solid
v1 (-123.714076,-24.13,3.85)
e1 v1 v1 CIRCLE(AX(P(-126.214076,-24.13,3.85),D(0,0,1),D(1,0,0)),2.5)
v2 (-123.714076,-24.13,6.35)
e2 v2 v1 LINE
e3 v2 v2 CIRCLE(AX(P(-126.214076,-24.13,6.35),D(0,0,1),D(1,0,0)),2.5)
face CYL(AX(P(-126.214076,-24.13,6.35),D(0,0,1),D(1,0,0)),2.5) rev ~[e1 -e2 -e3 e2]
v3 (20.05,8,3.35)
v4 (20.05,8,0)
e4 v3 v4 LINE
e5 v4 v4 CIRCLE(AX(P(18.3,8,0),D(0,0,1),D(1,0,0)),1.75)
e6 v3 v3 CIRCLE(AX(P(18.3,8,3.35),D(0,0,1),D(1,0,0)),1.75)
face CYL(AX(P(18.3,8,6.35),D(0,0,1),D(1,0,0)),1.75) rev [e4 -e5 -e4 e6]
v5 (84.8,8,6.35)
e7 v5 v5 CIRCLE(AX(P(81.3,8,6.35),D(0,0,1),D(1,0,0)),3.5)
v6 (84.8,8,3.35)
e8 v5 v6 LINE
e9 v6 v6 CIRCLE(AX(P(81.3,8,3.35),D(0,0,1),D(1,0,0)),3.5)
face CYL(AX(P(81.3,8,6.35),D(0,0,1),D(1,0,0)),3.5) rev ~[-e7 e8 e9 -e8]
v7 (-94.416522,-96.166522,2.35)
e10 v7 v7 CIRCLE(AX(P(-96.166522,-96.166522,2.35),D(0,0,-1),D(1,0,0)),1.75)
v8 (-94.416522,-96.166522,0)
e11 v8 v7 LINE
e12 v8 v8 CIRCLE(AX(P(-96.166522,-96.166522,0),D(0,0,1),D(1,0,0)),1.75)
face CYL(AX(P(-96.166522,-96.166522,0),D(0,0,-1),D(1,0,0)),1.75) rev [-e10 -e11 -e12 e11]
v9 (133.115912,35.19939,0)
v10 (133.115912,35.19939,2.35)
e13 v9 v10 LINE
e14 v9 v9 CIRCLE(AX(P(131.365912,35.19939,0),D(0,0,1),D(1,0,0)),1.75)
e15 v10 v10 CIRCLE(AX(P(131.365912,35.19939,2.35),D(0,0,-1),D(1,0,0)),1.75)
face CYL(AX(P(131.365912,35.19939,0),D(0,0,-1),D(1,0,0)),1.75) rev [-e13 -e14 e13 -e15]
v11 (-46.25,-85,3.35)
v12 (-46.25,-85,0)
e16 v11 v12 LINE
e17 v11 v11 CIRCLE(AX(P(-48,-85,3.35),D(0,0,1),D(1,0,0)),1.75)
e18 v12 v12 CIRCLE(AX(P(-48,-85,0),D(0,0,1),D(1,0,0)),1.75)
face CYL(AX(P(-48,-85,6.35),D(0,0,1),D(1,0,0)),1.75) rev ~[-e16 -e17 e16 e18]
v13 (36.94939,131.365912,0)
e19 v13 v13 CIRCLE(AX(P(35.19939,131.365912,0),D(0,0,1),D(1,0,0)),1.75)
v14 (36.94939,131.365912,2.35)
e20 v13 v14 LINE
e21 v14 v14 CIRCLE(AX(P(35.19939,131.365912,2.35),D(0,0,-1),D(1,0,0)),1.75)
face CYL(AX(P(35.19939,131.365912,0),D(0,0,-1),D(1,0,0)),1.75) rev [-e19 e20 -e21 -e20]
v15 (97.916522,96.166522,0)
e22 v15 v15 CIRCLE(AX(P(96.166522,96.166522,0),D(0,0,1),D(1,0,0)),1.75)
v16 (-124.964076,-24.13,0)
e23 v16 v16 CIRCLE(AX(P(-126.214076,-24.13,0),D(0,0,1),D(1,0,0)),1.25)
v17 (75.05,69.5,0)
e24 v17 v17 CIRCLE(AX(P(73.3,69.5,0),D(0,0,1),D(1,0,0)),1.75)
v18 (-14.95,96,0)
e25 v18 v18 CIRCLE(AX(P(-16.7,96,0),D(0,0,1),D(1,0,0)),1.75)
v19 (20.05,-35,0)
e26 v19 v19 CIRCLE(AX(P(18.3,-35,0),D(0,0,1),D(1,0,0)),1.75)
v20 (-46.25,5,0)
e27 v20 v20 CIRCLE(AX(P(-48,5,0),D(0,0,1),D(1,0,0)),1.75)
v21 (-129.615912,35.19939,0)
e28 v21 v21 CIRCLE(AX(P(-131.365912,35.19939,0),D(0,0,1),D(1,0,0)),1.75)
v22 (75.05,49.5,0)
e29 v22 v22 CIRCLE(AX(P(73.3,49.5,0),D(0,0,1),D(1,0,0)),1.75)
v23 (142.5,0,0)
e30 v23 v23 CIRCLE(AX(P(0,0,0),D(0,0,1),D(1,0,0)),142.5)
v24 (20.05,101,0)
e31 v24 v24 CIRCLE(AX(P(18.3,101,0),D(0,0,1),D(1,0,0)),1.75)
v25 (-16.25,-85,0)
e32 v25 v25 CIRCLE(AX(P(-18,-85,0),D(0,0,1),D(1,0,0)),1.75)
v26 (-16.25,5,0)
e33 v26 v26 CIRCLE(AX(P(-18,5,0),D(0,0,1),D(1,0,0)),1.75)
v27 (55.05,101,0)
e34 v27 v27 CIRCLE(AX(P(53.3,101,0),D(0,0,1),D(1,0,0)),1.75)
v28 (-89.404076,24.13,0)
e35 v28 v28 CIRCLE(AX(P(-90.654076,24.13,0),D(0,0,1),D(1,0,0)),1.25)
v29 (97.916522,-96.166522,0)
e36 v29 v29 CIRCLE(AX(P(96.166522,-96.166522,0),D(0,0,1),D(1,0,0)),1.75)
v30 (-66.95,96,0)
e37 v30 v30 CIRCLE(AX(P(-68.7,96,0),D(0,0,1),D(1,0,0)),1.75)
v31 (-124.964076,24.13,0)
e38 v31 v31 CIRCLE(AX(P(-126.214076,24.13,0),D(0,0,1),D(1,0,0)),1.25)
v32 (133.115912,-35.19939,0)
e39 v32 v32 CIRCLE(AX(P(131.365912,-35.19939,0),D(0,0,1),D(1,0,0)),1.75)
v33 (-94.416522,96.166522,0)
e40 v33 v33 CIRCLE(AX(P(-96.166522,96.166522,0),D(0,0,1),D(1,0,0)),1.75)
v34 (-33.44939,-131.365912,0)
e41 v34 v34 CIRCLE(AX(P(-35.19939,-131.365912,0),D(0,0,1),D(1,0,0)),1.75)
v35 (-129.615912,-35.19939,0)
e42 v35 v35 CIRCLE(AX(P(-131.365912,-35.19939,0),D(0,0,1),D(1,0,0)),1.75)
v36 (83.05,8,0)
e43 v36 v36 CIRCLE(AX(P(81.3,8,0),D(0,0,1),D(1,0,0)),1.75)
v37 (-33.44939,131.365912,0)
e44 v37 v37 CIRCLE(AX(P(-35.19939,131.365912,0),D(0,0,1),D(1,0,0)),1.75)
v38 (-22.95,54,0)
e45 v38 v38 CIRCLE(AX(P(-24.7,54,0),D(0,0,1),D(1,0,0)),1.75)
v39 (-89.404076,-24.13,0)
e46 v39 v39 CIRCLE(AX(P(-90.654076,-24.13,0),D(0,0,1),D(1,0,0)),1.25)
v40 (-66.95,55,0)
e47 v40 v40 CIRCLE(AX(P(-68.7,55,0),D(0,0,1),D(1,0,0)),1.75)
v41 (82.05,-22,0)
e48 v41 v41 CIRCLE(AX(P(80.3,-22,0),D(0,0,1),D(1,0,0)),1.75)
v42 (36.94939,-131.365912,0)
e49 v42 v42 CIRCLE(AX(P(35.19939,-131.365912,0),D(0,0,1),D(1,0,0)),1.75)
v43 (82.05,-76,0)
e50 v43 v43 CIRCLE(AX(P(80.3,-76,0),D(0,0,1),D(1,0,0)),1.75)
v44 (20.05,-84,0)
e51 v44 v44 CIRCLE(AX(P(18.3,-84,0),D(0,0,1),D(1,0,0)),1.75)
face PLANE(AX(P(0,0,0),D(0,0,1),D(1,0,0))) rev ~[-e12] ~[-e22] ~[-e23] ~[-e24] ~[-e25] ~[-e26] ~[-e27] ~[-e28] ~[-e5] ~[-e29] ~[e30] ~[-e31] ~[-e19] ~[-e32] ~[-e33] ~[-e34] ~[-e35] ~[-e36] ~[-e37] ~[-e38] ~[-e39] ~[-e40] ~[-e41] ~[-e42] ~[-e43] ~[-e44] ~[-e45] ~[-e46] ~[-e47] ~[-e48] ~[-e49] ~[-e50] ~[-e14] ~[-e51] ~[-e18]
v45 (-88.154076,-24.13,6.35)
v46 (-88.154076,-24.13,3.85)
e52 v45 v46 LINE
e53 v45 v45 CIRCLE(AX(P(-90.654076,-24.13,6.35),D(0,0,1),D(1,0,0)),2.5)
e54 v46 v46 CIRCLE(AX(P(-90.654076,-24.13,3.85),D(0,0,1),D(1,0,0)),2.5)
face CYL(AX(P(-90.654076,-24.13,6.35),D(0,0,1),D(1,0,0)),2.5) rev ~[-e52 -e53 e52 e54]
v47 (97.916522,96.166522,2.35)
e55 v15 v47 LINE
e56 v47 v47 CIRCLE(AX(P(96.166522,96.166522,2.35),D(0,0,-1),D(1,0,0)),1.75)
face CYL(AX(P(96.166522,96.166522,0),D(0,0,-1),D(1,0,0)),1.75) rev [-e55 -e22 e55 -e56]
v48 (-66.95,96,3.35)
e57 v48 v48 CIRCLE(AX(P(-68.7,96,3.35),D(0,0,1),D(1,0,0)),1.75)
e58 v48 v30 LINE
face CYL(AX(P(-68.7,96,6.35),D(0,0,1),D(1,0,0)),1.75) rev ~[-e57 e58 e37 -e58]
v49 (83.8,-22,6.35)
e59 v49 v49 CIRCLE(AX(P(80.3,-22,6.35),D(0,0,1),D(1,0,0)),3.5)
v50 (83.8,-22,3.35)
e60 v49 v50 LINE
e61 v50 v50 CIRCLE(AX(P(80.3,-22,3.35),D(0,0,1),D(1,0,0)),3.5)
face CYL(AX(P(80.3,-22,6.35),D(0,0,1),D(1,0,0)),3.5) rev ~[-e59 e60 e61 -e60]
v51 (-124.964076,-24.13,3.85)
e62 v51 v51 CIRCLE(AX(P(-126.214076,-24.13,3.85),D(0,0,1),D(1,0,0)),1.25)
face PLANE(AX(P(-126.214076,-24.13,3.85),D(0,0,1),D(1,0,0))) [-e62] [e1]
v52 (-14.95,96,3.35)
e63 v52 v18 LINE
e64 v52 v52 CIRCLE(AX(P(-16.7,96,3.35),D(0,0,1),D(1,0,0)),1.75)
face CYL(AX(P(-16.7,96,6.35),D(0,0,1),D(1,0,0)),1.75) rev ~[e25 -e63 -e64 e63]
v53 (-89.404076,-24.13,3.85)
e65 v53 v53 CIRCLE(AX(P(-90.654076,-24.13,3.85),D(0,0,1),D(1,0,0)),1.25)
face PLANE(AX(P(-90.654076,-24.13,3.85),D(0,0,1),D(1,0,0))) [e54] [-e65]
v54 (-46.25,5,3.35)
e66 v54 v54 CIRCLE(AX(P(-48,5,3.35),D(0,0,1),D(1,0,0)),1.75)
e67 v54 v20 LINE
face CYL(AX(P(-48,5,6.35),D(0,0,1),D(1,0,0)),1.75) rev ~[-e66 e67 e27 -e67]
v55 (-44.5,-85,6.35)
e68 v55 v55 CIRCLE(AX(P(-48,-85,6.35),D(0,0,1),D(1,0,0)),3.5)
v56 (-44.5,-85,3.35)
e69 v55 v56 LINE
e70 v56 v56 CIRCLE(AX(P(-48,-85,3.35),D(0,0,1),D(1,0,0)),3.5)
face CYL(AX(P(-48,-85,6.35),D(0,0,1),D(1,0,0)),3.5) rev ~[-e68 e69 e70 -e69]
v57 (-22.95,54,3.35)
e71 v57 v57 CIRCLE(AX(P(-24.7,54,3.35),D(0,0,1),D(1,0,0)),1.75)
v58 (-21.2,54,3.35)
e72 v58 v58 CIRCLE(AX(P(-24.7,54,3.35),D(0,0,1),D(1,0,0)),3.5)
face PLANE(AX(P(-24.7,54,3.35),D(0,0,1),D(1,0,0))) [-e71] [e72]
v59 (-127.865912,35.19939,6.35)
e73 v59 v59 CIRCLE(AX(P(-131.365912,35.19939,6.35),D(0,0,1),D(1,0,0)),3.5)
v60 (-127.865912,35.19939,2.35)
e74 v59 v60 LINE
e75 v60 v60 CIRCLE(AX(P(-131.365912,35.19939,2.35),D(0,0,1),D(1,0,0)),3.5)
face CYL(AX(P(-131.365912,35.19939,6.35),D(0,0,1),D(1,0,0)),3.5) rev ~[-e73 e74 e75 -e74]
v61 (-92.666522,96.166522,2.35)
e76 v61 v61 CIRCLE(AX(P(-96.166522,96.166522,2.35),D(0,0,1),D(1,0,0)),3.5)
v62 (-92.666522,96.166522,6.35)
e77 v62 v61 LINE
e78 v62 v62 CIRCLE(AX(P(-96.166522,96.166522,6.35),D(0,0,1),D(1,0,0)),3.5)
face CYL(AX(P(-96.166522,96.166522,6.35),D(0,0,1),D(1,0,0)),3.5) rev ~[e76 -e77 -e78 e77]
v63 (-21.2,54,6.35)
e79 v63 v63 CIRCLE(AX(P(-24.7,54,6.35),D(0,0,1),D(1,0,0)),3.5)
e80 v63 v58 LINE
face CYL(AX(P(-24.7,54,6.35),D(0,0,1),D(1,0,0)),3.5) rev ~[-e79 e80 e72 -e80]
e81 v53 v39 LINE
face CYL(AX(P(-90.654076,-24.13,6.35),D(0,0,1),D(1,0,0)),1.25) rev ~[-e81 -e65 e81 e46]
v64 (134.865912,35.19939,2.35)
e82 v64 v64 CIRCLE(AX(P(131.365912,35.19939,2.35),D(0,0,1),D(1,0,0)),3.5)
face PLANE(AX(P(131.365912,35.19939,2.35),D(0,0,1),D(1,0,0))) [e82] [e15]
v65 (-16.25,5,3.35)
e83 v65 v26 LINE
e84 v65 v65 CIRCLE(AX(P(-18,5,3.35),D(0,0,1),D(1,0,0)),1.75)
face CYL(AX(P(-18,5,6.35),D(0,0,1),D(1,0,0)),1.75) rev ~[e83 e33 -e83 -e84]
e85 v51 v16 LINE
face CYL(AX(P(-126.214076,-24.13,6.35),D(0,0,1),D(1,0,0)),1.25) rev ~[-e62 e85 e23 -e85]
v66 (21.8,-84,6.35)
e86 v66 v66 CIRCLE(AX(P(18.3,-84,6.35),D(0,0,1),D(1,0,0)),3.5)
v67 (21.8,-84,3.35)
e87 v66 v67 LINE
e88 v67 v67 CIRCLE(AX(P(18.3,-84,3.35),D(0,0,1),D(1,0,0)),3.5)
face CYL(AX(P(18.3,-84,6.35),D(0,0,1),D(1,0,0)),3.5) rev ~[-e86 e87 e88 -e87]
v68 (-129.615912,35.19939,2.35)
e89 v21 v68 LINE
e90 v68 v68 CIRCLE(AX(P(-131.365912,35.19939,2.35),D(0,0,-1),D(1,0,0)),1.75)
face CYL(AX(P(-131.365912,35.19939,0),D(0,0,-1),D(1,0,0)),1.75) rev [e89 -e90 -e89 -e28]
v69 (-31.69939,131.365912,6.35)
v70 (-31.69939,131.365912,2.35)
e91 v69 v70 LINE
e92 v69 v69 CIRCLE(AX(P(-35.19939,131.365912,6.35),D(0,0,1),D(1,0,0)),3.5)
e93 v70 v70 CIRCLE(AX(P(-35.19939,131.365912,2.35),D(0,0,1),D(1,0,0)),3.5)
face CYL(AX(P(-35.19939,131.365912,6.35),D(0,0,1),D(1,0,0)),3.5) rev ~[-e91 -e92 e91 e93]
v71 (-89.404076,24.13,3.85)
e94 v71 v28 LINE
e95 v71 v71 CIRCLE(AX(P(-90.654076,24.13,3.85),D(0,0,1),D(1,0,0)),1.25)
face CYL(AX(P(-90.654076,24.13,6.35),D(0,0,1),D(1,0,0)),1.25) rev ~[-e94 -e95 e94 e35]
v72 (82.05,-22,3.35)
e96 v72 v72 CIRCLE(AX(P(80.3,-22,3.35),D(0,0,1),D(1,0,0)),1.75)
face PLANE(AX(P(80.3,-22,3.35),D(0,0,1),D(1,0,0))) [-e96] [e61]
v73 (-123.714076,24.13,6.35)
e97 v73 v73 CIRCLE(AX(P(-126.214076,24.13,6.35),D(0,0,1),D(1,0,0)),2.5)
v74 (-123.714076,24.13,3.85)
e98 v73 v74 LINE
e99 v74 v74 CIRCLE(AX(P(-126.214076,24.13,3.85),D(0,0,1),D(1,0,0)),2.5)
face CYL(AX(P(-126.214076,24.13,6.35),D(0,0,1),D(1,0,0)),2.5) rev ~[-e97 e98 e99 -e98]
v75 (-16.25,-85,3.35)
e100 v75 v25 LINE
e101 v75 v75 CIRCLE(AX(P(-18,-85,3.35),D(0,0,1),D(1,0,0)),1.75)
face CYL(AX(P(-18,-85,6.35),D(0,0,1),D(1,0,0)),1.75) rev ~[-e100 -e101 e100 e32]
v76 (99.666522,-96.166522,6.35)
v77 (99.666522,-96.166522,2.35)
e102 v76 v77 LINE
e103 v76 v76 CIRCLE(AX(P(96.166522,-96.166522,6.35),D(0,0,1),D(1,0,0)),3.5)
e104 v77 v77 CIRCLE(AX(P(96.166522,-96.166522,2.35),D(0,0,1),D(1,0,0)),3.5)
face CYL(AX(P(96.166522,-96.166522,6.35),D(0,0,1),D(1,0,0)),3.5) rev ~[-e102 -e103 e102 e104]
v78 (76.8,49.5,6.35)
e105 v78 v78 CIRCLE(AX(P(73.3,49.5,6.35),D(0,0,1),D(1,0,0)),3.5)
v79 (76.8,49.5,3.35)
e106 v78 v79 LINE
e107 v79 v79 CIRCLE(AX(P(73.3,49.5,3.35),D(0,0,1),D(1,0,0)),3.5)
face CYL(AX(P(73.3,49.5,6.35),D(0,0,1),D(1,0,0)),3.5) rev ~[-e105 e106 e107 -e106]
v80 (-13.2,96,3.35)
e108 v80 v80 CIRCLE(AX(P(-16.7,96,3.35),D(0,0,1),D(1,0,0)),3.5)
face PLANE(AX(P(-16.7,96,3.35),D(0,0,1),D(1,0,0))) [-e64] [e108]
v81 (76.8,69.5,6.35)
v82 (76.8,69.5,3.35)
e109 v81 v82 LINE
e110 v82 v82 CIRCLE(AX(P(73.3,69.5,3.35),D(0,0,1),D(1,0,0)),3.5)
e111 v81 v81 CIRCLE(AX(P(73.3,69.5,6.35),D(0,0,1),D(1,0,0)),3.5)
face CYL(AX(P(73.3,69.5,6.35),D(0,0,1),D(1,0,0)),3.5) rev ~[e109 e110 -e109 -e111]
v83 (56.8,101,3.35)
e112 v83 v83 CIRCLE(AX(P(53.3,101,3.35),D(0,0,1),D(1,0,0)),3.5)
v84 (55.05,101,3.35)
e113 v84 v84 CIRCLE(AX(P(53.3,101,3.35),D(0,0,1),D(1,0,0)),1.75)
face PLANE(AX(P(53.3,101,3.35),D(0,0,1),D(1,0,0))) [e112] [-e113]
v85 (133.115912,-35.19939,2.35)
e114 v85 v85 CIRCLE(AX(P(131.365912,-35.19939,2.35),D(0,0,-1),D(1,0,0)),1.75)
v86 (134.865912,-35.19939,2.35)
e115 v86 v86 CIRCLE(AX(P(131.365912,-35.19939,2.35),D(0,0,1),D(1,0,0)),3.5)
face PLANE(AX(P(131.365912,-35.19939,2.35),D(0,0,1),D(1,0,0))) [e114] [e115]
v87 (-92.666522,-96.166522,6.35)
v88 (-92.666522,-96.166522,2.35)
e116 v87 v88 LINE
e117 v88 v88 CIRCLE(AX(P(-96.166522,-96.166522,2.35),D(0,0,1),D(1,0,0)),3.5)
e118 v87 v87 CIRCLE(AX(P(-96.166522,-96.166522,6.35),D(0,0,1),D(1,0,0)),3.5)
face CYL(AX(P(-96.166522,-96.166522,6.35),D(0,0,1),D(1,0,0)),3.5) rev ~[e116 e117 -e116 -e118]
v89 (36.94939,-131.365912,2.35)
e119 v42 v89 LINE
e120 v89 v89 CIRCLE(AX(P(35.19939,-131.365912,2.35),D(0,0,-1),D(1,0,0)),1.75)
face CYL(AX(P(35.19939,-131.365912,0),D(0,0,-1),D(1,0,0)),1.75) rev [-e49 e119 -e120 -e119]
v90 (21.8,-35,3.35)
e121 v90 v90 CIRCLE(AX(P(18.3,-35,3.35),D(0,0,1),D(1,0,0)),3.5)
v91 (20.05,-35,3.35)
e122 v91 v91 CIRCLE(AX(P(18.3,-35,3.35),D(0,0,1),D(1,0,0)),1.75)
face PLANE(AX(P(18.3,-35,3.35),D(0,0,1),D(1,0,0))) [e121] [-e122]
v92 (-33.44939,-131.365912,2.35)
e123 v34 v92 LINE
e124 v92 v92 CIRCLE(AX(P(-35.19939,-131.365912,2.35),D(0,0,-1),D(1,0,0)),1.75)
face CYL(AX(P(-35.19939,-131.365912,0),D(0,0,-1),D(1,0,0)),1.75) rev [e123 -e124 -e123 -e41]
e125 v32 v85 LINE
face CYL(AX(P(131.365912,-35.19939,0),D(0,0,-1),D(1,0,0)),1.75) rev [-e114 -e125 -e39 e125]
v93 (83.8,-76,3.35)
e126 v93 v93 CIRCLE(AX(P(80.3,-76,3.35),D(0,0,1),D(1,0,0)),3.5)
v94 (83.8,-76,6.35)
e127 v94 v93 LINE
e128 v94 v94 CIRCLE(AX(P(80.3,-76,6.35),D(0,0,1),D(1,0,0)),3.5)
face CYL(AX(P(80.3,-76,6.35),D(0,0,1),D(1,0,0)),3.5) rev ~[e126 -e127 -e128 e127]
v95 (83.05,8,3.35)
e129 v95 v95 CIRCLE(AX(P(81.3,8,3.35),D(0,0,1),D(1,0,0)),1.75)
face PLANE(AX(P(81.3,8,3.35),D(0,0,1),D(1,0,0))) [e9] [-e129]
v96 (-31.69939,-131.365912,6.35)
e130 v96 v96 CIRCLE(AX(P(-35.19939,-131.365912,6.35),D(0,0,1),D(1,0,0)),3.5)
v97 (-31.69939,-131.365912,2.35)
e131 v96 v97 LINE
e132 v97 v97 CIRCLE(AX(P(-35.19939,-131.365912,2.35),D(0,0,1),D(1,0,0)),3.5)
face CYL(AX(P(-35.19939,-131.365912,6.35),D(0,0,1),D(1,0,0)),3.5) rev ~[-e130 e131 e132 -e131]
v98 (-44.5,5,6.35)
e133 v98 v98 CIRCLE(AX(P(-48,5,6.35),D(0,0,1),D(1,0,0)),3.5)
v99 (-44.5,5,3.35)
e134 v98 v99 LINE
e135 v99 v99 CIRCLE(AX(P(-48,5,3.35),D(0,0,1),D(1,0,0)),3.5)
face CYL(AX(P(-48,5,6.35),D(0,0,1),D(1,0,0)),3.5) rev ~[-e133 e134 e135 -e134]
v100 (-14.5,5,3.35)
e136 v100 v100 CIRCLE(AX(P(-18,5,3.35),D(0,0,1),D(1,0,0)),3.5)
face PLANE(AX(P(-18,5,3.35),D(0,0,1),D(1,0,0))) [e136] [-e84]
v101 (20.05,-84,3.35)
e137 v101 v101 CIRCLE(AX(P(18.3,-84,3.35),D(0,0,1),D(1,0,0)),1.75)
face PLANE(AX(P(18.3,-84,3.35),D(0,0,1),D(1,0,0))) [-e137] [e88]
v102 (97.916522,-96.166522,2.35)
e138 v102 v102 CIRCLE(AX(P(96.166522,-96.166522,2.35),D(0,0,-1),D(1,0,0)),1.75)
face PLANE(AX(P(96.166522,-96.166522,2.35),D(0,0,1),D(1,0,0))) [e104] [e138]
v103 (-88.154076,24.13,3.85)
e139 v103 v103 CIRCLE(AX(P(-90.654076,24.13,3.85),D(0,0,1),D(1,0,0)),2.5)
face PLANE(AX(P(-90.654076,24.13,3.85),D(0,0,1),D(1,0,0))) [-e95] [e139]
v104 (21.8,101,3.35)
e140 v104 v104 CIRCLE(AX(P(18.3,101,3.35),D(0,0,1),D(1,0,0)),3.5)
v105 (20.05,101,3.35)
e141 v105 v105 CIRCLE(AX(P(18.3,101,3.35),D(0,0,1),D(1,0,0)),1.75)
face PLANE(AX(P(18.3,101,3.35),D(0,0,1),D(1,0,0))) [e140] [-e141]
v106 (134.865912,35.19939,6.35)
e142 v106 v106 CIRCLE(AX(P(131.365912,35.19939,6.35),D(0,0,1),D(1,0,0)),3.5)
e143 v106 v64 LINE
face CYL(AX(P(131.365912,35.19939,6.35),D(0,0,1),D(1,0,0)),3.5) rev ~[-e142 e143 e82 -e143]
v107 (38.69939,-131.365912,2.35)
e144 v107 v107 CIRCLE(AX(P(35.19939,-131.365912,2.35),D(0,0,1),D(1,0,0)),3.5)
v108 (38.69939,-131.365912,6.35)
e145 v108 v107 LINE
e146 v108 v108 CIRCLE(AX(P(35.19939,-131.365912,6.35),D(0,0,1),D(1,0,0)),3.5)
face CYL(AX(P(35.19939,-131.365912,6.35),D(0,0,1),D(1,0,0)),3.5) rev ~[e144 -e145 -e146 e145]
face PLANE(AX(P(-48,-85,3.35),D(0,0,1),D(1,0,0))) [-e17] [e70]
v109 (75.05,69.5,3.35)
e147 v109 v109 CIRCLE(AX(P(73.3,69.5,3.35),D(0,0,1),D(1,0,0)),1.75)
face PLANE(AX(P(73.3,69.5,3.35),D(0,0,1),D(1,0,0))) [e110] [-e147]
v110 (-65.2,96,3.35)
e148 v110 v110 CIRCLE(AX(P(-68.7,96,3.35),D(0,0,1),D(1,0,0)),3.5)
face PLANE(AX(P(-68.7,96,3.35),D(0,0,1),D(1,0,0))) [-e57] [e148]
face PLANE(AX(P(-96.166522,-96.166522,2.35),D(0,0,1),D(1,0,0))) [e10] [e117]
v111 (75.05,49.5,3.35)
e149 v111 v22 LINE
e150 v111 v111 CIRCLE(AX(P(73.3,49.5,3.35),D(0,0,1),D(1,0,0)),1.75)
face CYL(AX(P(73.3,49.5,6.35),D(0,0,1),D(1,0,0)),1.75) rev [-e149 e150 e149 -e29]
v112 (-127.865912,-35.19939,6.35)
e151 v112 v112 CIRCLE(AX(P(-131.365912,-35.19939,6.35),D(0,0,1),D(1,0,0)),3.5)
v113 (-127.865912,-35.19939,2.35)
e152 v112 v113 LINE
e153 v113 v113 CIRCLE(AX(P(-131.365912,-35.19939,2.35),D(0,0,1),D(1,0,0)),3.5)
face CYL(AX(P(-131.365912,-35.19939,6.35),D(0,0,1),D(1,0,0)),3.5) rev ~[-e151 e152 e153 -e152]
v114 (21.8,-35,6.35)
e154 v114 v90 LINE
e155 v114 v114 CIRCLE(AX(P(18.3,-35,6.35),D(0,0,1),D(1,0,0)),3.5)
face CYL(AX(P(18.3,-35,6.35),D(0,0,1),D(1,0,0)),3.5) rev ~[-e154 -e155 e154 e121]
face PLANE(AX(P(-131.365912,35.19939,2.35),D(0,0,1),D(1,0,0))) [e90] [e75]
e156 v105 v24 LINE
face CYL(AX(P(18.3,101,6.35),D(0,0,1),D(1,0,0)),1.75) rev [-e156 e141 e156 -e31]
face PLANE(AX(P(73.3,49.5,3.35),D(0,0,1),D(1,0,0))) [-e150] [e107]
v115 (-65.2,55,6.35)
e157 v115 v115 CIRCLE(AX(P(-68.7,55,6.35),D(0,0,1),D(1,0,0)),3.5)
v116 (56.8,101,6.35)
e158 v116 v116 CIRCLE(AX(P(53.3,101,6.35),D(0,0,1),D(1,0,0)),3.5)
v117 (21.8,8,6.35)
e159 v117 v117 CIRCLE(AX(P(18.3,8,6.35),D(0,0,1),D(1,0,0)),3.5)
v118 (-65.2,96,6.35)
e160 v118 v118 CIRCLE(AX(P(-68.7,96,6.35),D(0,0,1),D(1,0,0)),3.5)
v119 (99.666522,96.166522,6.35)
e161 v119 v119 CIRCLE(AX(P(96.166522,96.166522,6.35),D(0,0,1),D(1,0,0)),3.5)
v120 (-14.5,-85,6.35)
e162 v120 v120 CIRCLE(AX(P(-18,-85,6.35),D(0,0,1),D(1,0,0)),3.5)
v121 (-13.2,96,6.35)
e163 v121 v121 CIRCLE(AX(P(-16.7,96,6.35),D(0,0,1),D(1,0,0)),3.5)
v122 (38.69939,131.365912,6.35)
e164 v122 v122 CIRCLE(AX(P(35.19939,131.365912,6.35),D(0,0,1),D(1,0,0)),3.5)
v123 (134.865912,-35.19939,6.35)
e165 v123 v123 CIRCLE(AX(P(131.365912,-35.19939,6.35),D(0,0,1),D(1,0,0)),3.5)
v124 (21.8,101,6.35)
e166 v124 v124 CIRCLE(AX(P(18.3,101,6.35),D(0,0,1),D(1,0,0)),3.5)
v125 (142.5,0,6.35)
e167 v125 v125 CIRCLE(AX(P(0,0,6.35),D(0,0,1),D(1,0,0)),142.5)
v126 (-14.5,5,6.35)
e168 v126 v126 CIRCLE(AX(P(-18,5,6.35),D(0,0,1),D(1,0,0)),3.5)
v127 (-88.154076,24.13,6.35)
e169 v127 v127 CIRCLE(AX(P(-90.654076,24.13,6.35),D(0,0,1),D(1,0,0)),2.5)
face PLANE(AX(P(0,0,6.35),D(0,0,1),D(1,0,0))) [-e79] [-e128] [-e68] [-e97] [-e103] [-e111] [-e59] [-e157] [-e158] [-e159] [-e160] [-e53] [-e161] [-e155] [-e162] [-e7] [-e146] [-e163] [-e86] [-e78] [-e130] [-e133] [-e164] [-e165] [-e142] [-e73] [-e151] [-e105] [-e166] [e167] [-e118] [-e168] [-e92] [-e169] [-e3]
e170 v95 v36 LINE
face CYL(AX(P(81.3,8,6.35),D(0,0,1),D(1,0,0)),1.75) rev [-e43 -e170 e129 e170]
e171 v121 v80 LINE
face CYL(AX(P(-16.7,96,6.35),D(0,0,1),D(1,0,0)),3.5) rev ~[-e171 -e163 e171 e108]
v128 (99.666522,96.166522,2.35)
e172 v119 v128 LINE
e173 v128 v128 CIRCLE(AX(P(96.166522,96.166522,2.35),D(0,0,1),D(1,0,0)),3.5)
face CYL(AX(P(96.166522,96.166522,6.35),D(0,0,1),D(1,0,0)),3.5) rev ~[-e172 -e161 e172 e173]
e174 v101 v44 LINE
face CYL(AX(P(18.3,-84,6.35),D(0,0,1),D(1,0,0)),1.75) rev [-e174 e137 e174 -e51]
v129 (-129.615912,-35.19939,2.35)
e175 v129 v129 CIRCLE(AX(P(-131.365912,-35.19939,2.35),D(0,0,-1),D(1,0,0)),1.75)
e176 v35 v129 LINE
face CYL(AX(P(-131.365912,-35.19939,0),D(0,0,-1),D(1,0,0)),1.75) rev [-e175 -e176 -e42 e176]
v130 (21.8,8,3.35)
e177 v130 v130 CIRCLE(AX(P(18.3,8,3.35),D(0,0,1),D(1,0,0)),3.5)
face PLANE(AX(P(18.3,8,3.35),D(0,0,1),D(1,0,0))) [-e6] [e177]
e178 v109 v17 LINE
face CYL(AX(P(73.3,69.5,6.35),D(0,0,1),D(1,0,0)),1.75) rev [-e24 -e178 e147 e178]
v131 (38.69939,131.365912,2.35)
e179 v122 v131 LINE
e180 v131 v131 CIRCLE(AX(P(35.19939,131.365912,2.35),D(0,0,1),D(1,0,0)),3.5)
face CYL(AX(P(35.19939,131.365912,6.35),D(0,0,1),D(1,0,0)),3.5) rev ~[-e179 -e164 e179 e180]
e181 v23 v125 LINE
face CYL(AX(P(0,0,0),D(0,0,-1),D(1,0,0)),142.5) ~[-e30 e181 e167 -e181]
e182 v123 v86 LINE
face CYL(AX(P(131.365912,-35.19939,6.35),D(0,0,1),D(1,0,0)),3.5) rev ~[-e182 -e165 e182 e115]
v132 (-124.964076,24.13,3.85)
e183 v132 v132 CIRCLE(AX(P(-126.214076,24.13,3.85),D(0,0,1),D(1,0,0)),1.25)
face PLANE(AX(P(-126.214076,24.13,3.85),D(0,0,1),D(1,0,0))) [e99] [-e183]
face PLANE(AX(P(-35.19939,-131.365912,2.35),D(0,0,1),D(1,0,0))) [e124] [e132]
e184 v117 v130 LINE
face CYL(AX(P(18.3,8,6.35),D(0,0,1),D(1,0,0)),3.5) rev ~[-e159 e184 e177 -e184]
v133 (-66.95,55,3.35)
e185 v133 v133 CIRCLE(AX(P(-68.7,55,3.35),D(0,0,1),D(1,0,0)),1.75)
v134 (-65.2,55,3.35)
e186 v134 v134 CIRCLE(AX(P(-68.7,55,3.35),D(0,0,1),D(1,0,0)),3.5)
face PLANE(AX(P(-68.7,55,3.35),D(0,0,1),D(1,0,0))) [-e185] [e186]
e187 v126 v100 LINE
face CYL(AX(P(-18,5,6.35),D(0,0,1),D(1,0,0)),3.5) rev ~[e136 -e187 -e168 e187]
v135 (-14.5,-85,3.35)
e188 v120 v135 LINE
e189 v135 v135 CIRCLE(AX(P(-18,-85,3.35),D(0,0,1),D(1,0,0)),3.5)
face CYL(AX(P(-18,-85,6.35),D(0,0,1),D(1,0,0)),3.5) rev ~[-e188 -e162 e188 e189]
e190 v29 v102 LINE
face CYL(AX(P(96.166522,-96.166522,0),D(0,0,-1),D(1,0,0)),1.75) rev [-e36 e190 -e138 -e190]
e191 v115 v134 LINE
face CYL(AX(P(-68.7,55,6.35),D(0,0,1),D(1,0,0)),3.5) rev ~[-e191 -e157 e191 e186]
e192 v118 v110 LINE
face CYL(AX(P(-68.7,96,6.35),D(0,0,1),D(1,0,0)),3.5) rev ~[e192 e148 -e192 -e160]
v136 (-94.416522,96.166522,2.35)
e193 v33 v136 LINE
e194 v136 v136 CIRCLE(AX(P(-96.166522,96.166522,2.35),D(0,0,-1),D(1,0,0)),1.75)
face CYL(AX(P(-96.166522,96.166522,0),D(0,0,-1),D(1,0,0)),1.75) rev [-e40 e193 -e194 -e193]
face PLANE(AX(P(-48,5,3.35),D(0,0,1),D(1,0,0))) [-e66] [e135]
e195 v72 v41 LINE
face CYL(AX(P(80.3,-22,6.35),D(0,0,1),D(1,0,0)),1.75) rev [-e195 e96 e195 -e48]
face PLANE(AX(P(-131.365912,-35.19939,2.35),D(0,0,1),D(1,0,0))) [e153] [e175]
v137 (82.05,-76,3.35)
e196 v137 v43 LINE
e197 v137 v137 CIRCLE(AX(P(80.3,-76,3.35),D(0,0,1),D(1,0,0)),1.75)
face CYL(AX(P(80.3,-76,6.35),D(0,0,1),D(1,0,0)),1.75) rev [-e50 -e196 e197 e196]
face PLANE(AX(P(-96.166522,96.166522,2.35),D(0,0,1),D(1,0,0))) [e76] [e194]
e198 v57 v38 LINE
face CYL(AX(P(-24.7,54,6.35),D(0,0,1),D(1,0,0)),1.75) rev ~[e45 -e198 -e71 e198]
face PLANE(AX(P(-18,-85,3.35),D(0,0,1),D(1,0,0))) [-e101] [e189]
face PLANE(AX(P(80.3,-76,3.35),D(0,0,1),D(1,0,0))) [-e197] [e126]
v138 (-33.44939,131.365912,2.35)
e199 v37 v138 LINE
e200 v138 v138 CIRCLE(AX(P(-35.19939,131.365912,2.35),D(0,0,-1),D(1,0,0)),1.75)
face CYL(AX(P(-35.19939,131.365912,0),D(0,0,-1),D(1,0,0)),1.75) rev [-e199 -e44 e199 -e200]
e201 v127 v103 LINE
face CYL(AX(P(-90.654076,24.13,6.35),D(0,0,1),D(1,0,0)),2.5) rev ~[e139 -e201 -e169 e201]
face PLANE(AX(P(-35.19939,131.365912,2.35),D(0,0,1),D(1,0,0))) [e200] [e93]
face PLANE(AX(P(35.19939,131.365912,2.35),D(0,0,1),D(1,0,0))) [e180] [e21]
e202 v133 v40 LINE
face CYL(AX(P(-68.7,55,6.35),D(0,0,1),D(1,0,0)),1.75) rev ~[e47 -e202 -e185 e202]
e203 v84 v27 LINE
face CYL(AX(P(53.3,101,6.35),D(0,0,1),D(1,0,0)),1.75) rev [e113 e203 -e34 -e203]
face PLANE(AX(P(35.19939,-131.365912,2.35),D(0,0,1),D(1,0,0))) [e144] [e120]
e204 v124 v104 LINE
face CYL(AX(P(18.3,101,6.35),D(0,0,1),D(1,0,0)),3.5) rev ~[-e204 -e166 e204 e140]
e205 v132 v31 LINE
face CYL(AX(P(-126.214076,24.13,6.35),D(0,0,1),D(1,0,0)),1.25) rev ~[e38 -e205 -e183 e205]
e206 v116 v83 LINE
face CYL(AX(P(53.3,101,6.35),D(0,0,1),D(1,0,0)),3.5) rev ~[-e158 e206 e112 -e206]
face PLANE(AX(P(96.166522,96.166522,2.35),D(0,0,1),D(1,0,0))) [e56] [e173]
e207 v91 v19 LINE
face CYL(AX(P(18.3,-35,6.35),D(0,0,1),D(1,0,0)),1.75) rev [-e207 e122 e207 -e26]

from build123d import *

# Parameters (mm, degrees)
ESQUISSE1_R              = 142.5
ESQUISSE1_R_2            = 1.75
BOSS_EXTRU_1_DEPTH       = 6.35
ESQUISSE2_R              = 3.5
ENL_V_MAT_EXTRU_1_DEPTH  = 4
ENL_V_MAT_EXTRU_2_REACH  = 203.625
ESQUISSE3_R              = 1.25
ESQUISSE4_R              = 2.5
ENL_V_MAT_EXTRU_3_DEPTH  = 2.5
ENL_V_MAT_EXTRU_4_REACH  = 203.625
ESQUISSE5_R              = 1.75
ESQUISSE6_R              = 3.5
ENL_V_MAT_EXTRU_5_DEPTH  = 3
ENL_V_MAT_EXTRU_6_REACH  = 203.625
ESQUISSE7_R              = 1.75
ESQUISSE8_R              = 3.5
ENL_V_MAT_EXTRU_7_DEPTH  = 3
ENL_V_MAT_EXTRU_8_REACH  = 203.625
ESQUISSE9_R              = 1.75
ESQUISSE10_R             = 3.5
ENL_V_MAT_EXTRU_9_DEPTH  = 3
ENL_V_MAT_EXTRU_10_REACH = 203.625
ESQUISSE11_R             = 1.75
ESQUISSE12_R             = 3.5
ENL_V_MAT_EXTRU_11_DEPTH = 3


with BuildPart() as part:
    # Esquisse1 → Boss.-Extru.1 (new body)
    with BuildSketch(Plane.XY):
        Circle(ESQUISSE1_R)
        with Locations((-35.199390134, 131.365912375)):
            Circle(ESQUISSE1_R_2, mode=Mode.SUBTRACT)
        with Locations((35.199390134, 131.365912375)):
            Circle(ESQUISSE1_R_2, mode=Mode.SUBTRACT)
        with Locations((96.166522241, 96.166522241)):
            Circle(ESQUISSE1_R_2, mode=Mode.SUBTRACT)
        with Locations((131.365912375, 35.199390134)):
            Circle(ESQUISSE1_R_2, mode=Mode.SUBTRACT)
        with Locations((131.365912375, -35.199390134)):
            Circle(ESQUISSE1_R_2, mode=Mode.SUBTRACT)
        with Locations((96.166522241, -96.166522241)):
            Circle(ESQUISSE1_R_2, mode=Mode.SUBTRACT)
        with Locations((35.199390134, -131.365912375)):
            Circle(ESQUISSE1_R_2, mode=Mode.SUBTRACT)
        with Locations((-35.199390134, -131.365912375)):
            Circle(ESQUISSE1_R_2, mode=Mode.SUBTRACT)
        with Locations((-96.166522241, -96.166522241)):
            Circle(ESQUISSE1_R_2, mode=Mode.SUBTRACT)
        with Locations((-131.365912375, -35.199390134)):
            Circle(ESQUISSE1_R_2, mode=Mode.SUBTRACT)
        with Locations((-131.365912375, 35.199390134)):
            Circle(ESQUISSE1_R_2, mode=Mode.SUBTRACT)
        with Locations((-96.166522241, 96.166522241)):
            Circle(ESQUISSE1_R_2, mode=Mode.SUBTRACT)
    extrude(amount=BOSS_EXTRU_1_DEPTH)

    # Esquisse2 → Enlèv. mat.-Extru.1 (cut)
    with BuildSketch(Plane.XY.offset(6.35)):
        with Locations((35.199390134, 131.365912375)):
            Circle(ESQUISSE2_R)
        with Locations((96.166522241, 96.166522241)):
            Circle(ESQUISSE2_R)
        with Locations((131.365912375, 35.199390134)):
            Circle(ESQUISSE2_R)
        with Locations((131.365912375, -35.199390134)):
            Circle(ESQUISSE2_R)
        with Locations((96.166522241, -96.166522241)):
            Circle(ESQUISSE2_R)
        with Locations((35.199390134, -131.365912375)):
            Circle(ESQUISSE2_R)
        with Locations((-35.199390134, -131.365912375)):
            Circle(ESQUISSE2_R)
        with Locations((-96.166522241, -96.166522241)):
            Circle(ESQUISSE2_R)
        with Locations((-131.365912375, -35.199390134)):
            Circle(ESQUISSE2_R)
        with Locations((-131.365912375, 35.199390134)):
            Circle(ESQUISSE2_R)
        with Locations((-96.166522241, 96.166522241)):
            Circle(ESQUISSE2_R)
        with Locations((-35.199390134, 131.365912375)):
            Circle(ESQUISSE2_R)
    extrude(amount=-ENL_V_MAT_EXTRU_1_DEPTH, mode=Mode.SUBTRACT)

    # Esquisse3 → Enlèv. mat.-Extru.2 (cut, up to next)
    with BuildSketch(Plane.XY.offset(6.35), mode=Mode.PRIVATE) as enl_v_mat_extru_2_sk1:
        with Locations((-126.214076473, -24.13)):
            Circle(ESQUISSE3_R)
    enl_v_mat_extru_2_tool1 = extrude(enl_v_mat_extru_2_sk1.sketch, amount=-ENL_V_MAT_EXTRU_2_REACH, mode=Mode.PRIVATE) & part.part
    # Esquisse3 → Enlèv. mat.-Extru.2 (cut, up to next)
    with BuildSketch(Plane.XY.offset(6.35), mode=Mode.PRIVATE) as enl_v_mat_extru_2_sk2:
        with Locations((-126.214076473, 24.13)):
            Circle(ESQUISSE3_R)
    enl_v_mat_extru_2_tool2 = extrude(enl_v_mat_extru_2_sk2.sketch, amount=-ENL_V_MAT_EXTRU_2_REACH, mode=Mode.PRIVATE) & part.part
    # Esquisse3 → Enlèv. mat.-Extru.2 (cut, up to next)
    with BuildSketch(Plane.XY.offset(6.35), mode=Mode.PRIVATE) as enl_v_mat_extru_2_sk3:
        with Locations((-90.654076473, 24.13)):
            Circle(ESQUISSE3_R)
    enl_v_mat_extru_2_tool3 = extrude(enl_v_mat_extru_2_sk3.sketch, amount=-ENL_V_MAT_EXTRU_2_REACH, mode=Mode.PRIVATE) & part.part
    # Esquisse3 → Enlèv. mat.-Extru.2 (cut, up to next)
    with BuildSketch(Plane.XY.offset(6.35), mode=Mode.PRIVATE) as enl_v_mat_extru_2_sk4:
        with Locations((-90.654076473, -24.13)):
            Circle(ESQUISSE3_R)
    enl_v_mat_extru_2_tool4 = extrude(enl_v_mat_extru_2_sk4.sketch, amount=-ENL_V_MAT_EXTRU_2_REACH, mode=Mode.PRIVATE) & part.part
    add(enl_v_mat_extru_2_tool1.solids().sort_by_distance((-126.214076, -24.13, 6.35))[0], mode=Mode.SUBTRACT)
    add(enl_v_mat_extru_2_tool2.solids().sort_by_distance((-126.214076, 24.13, 6.35))[0], mode=Mode.SUBTRACT)
    add(enl_v_mat_extru_2_tool3.solids().sort_by_distance((-90.654076, 24.13, 6.35))[0], mode=Mode.SUBTRACT)
    add(enl_v_mat_extru_2_tool4.solids().sort_by_distance((-90.654076, -24.13, 6.35))[0], mode=Mode.SUBTRACT)

    # Esquisse4 → Enlèv. mat.-Extru.3 (cut)
    with BuildSketch(Plane.XY.offset(6.35)):
        with Locations((-126.214076473, -24.13)):
            Circle(ESQUISSE4_R)
        with Locations((-126.214076473, 24.13)):
            Circle(ESQUISSE4_R)
        with Locations((-90.654076473, 24.13)):
            Circle(ESQUISSE4_R)
        with Locations((-90.654076473, -24.13)):
            Circle(ESQUISSE4_R)
    extrude(amount=-ENL_V_MAT_EXTRU_3_DEPTH, mode=Mode.SUBTRACT)

    # Esquisse5 → Enlèv. mat.-Extru.4 (cut, up to next)
    with BuildSketch(Plane.XY.offset(6.35), mode=Mode.PRIVATE) as enl_v_mat_extru_4_sk1:
        with Locations((-48, -85)):
            Circle(ESQUISSE5_R)
    enl_v_mat_extru_4_tool1 = extrude(enl_v_mat_extru_4_sk1.sketch, amount=-ENL_V_MAT_EXTRU_4_REACH, mode=Mode.PRIVATE) & part.part
    # Esquisse5 → Enlèv. mat.-Extru.4 (cut, up to next)
    with BuildSketch(Plane.XY.offset(6.35), mode=Mode.PRIVATE) as enl_v_mat_extru_4_sk2:
        with Locations((-48, 5)):
            Circle(ESQUISSE5_R)
    enl_v_mat_extru_4_tool2 = extrude(enl_v_mat_extru_4_sk2.sketch, amount=-ENL_V_MAT_EXTRU_4_REACH, mode=Mode.PRIVATE) & part.part
    # Esquisse5 → Enlèv. mat.-Extru.4 (cut, up to next)
    with BuildSketch(Plane.XY.offset(6.35), mode=Mode.PRIVATE) as enl_v_mat_extru_4_sk3:
        with Locations((-18, 5)):
            Circle(ESQUISSE5_R)
    enl_v_mat_extru_4_tool3 = extrude(enl_v_mat_extru_4_sk3.sketch, amount=-ENL_V_MAT_EXTRU_4_REACH, mode=Mode.PRIVATE) & part.part
    # Esquisse5 → Enlèv. mat.-Extru.4 (cut, up to next)
    with BuildSketch(Plane.XY.offset(6.35), mode=Mode.PRIVATE) as enl_v_mat_extru_4_sk4:
        with Locations((-18, -85)):
            Circle(ESQUISSE5_R)
    enl_v_mat_extru_4_tool4 = extrude(enl_v_mat_extru_4_sk4.sketch, amount=-ENL_V_MAT_EXTRU_4_REACH, mode=Mode.PRIVATE) & part.part
    add(enl_v_mat_extru_4_tool1.solids().sort_by_distance((-48, -85, 6.35))[0], mode=Mode.SUBTRACT)
    add(enl_v_mat_extru_4_tool2.solids().sort_by_distance((-48, 5, 6.35))[0], mode=Mode.SUBTRACT)
    add(enl_v_mat_extru_4_tool3.solids().sort_by_distance((-18, 5, 6.35))[0], mode=Mode.SUBTRACT)
    add(enl_v_mat_extru_4_tool4.solids().sort_by_distance((-18, -85, 6.35))[0], mode=Mode.SUBTRACT)

    # Esquisse6 → Enlèv. mat.-Extru.5 (cut)
    with BuildSketch(Plane.XY.offset(6.35)):
        with Locations((-48, -85)):
            Circle(ESQUISSE6_R)
        with Locations((-18, -85)):
            Circle(ESQUISSE6_R)
        with Locations((-48, 5)):
            Circle(ESQUISSE6_R)
        with Locations((-18, 5)):
            Circle(ESQUISSE6_R)
    extrude(amount=-ENL_V_MAT_EXTRU_5_DEPTH, mode=Mode.SUBTRACT)

    # Esquisse7 → Enlèv. mat.-Extru.6 (cut, up to next)
    with BuildSketch(Plane.XY.offset(6.35), mode=Mode.PRIVATE) as enl_v_mat_extru_6_sk1:
        with Locations((-68.7, 55)):
            Circle(ESQUISSE7_R)
    enl_v_mat_extru_6_tool1 = extrude(enl_v_mat_extru_6_sk1.sketch, amount=-ENL_V_MAT_EXTRU_6_REACH, mode=Mode.PRIVATE) & part.part
    # Esquisse7 → Enlèv. mat.-Extru.6 (cut, up to next)
    with BuildSketch(Plane.XY.offset(6.35), mode=Mode.PRIVATE) as enl_v_mat_extru_6_sk2:
        with Locations((-68.7, 96)):
            Circle(ESQUISSE7_R)
    enl_v_mat_extru_6_tool2 = extrude(enl_v_mat_extru_6_sk2.sketch, amount=-ENL_V_MAT_EXTRU_6_REACH, mode=Mode.PRIVATE) & part.part
    # Esquisse7 → Enlèv. mat.-Extru.6 (cut, up to next)
    with BuildSketch(Plane.XY.offset(6.35), mode=Mode.PRIVATE) as enl_v_mat_extru_6_sk3:
        with Locations((-24.7, 54)):
            Circle(ESQUISSE7_R)
    enl_v_mat_extru_6_tool3 = extrude(enl_v_mat_extru_6_sk3.sketch, amount=-ENL_V_MAT_EXTRU_6_REACH, mode=Mode.PRIVATE) & part.part
    # Esquisse7 → Enlèv. mat.-Extru.6 (cut, up to next)
    with BuildSketch(Plane.XY.offset(6.35), mode=Mode.PRIVATE) as enl_v_mat_extru_6_sk4:
        with Locations((-16.7, 96)):
            Circle(ESQUISSE7_R)
    enl_v_mat_extru_6_tool4 = extrude(enl_v_mat_extru_6_sk4.sketch, amount=-ENL_V_MAT_EXTRU_6_REACH, mode=Mode.PRIVATE) & part.part
    add(enl_v_mat_extru_6_tool1.solids().sort_by_distance((-68.7, 55, 6.35))[0], mode=Mode.SUBTRACT)
    add(enl_v_mat_extru_6_tool2.solids().sort_by_distance((-68.7, 96, 6.35))[0], mode=Mode.SUBTRACT)
    add(enl_v_mat_extru_6_tool3.solids().sort_by_distance((-24.7, 54, 6.35))[0], mode=Mode.SUBTRACT)
    add(enl_v_mat_extru_6_tool4.solids().sort_by_distance((-16.7, 96, 6.35))[0], mode=Mode.SUBTRACT)

    # Esquisse8 → Enlèv. mat.-Extru.7 (cut)
    with BuildSketch(Plane.XY.offset(6.35)):
        with Locations((-68.7, 55)):
            Circle(ESQUISSE8_R)
        with Locations((-68.7, 96)):
            Circle(ESQUISSE8_R)
        with Locations((-24.7, 54)):
            Circle(ESQUISSE8_R)
        with Locations((-16.7, 96)):
            Circle(ESQUISSE8_R)
    extrude(amount=-ENL_V_MAT_EXTRU_7_DEPTH, mode=Mode.SUBTRACT)

    # Esquisse9 → Enlèv. mat.-Extru.8 (cut, up to next)
    with BuildSketch(Plane(origin=(0, 0, 6.35), x_dir=(-1, 0, 0), z_dir=(0, 0, -1)), mode=Mode.PRIVATE) as enl_v_mat_extru_8_sk1:
        with Locations(Location((-18.3, 101, 0), (0, 0, 180))):
            Circle(ESQUISSE9_R)
    enl_v_mat_extru_8_tool1 = extrude(enl_v_mat_extru_8_sk1.sketch, amount=ENL_V_MAT_EXTRU_8_REACH, mode=Mode.PRIVATE) & part.part
    # Esquisse9 → Enlèv. mat.-Extru.8 (cut, up to next)
    with BuildSketch(Plane(origin=(0, 0, 6.35), x_dir=(-1, 0, 0), z_dir=(0, 0, -1)), mode=Mode.PRIVATE) as enl_v_mat_extru_8_sk2:
        with Locations(Location((-18.3, 8, 0), (0, 0, 180))):
            Circle(ESQUISSE9_R)
    enl_v_mat_extru_8_tool2 = extrude(enl_v_mat_extru_8_sk2.sketch, amount=ENL_V_MAT_EXTRU_8_REACH, mode=Mode.PRIVATE) & part.part
    # Esquisse9 → Enlèv. mat.-Extru.8 (cut, up to next)
    with BuildSketch(Plane(origin=(0, 0, 6.35), x_dir=(-1, 0, 0), z_dir=(0, 0, -1)), mode=Mode.PRIVATE) as enl_v_mat_extru_8_sk3:
        with Locations(Location((-53.3, 101, 0), (0, 0, 180))):
            Circle(ESQUISSE9_R)
    enl_v_mat_extru_8_tool3 = extrude(enl_v_mat_extru_8_sk3.sketch, amount=ENL_V_MAT_EXTRU_8_REACH, mode=Mode.PRIVATE) & part.part
    # Esquisse9 → Enlèv. mat.-Extru.8 (cut, up to next)
    with BuildSketch(Plane(origin=(0, 0, 6.35), x_dir=(-1, 0, 0), z_dir=(0, 0, -1)), mode=Mode.PRIVATE) as enl_v_mat_extru_8_sk4:
        with Locations(Location((-81.3, 8, 0), (0, 0, 180))):
            Circle(ESQUISSE9_R)
    enl_v_mat_extru_8_tool4 = extrude(enl_v_mat_extru_8_sk4.sketch, amount=ENL_V_MAT_EXTRU_8_REACH, mode=Mode.PRIVATE) & part.part
    # Esquisse9 → Enlèv. mat.-Extru.8 (cut, up to next)
    with BuildSketch(Plane(origin=(0, 0, 6.35), x_dir=(-1, 0, 0), z_dir=(0, 0, -1)), mode=Mode.PRIVATE) as enl_v_mat_extru_8_sk5:
        with Locations(Location((-73.3, 69.5, 0), (0, 0, 180))):
            Circle(ESQUISSE9_R)
    enl_v_mat_extru_8_tool5 = extrude(enl_v_mat_extru_8_sk5.sketch, amount=ENL_V_MAT_EXTRU_8_REACH, mode=Mode.PRIVATE) & part.part
    # Esquisse9 → Enlèv. mat.-Extru.8 (cut, up to next)
    with BuildSketch(Plane(origin=(0, 0, 6.35), x_dir=(-1, 0, 0), z_dir=(0, 0, -1)), mode=Mode.PRIVATE) as enl_v_mat_extru_8_sk6:
        with Locations(Location((-73.3, 49.5, 0), (0, 0, 180))):
            Circle(ESQUISSE9_R)
    enl_v_mat_extru_8_tool6 = extrude(enl_v_mat_extru_8_sk6.sketch, amount=ENL_V_MAT_EXTRU_8_REACH, mode=Mode.PRIVATE) & part.part
    add(enl_v_mat_extru_8_tool1.solids().sort_by_distance((18.3, 101, 6.35))[0], mode=Mode.SUBTRACT)
    add(enl_v_mat_extru_8_tool2.solids().sort_by_distance((18.3, 8, 6.35))[0], mode=Mode.SUBTRACT)
    add(enl_v_mat_extru_8_tool3.solids().sort_by_distance((53.3, 101, 6.35))[0], mode=Mode.SUBTRACT)
    add(enl_v_mat_extru_8_tool4.solids().sort_by_distance((81.3, 8, 6.35))[0], mode=Mode.SUBTRACT)
    add(enl_v_mat_extru_8_tool5.solids().sort_by_distance((73.3, 69.5, 6.35))[0], mode=Mode.SUBTRACT)
    add(enl_v_mat_extru_8_tool6.solids().sort_by_distance((73.3, 49.5, 6.35))[0], mode=Mode.SUBTRACT)

    # Esquisse10 → Enlèv. mat.-Extru.9 (cut)
    with BuildSketch(Plane.XY.offset(6.35)):
        with Locations((18.3, 8)):
            Circle(ESQUISSE10_R)
        with Locations((18.3, 101)):
            Circle(ESQUISSE10_R)
        with Locations((53.3, 101)):
            Circle(ESQUISSE10_R)
        with Locations((81.3, 8)):
            Circle(ESQUISSE10_R)
        with Locations((73.3, 69.5)):
            Circle(ESQUISSE10_R)
        with Locations((73.3, 49.5)):
            Circle(ESQUISSE10_R)
    extrude(amount=-ENL_V_MAT_EXTRU_9_DEPTH, mode=Mode.SUBTRACT)

    # Esquisse11 → Enlèv. mat.-Extru.10 (cut, up to next)
    with BuildSketch(Plane(origin=(0, 0, 6.35), x_dir=(-1, 0, 0), z_dir=(0, 0, -1)), mode=Mode.PRIVATE) as enl_v_mat_extru_10_sk1:
        with Locations(Location((-18.3, -35, 0), (0, 0, 180))):
            Circle(ESQUISSE11_R)
    enl_v_mat_extru_10_tool1 = extrude(enl_v_mat_extru_10_sk1.sketch, amount=ENL_V_MAT_EXTRU_10_REACH, mode=Mode.PRIVATE) & part.part
    # Esquisse11 → Enlèv. mat.-Extru.10 (cut, up to next)
    with BuildSketch(Plane(origin=(0, 0, 6.35), x_dir=(-1, 0, 0), z_dir=(0, 0, -1)), mode=Mode.PRIVATE) as enl_v_mat_extru_10_sk2:
        with Locations(Location((-18.3, -84, 0), (0, 0, 180))):
            Circle(ESQUISSE11_R)
    enl_v_mat_extru_10_tool2 = extrude(enl_v_mat_extru_10_sk2.sketch, amount=ENL_V_MAT_EXTRU_10_REACH, mode=Mode.PRIVATE) & part.part
    # Esquisse11 → Enlèv. mat.-Extru.10 (cut, up to next)
    with BuildSketch(Plane(origin=(0, 0, 6.35), x_dir=(-1, 0, 0), z_dir=(0, 0, -1)), mode=Mode.PRIVATE) as enl_v_mat_extru_10_sk3:
        with Locations(Location((-80.3, -22, 0), (0, 0, 180))):
            Circle(ESQUISSE11_R)
    enl_v_mat_extru_10_tool3 = extrude(enl_v_mat_extru_10_sk3.sketch, amount=ENL_V_MAT_EXTRU_10_REACH, mode=Mode.PRIVATE) & part.part
    # Esquisse11 → Enlèv. mat.-Extru.10 (cut, up to next)
    with BuildSketch(Plane(origin=(0, 0, 6.35), x_dir=(-1, 0, 0), z_dir=(0, 0, -1)), mode=Mode.PRIVATE) as enl_v_mat_extru_10_sk4:
        with Locations(Location((-80.3, -76, 0), (0, 0, 180))):
            Circle(ESQUISSE11_R)
    enl_v_mat_extru_10_tool4 = extrude(enl_v_mat_extru_10_sk4.sketch, amount=ENL_V_MAT_EXTRU_10_REACH, mode=Mode.PRIVATE) & part.part
    add(enl_v_mat_extru_10_tool1.solids().sort_by_distance((18.3, -35, 6.35))[0], mode=Mode.SUBTRACT)
    add(enl_v_mat_extru_10_tool2.solids().sort_by_distance((18.3, -84, 6.35))[0], mode=Mode.SUBTRACT)
    add(enl_v_mat_extru_10_tool3.solids().sort_by_distance((80.3, -22, 6.35))[0], mode=Mode.SUBTRACT)
    add(enl_v_mat_extru_10_tool4.solids().sort_by_distance((80.3, -76, 6.35))[0], mode=Mode.SUBTRACT)

    # Esquisse12 → Enlèv. mat.-Extru.11 (cut)
    with BuildSketch(Plane.XY.offset(6.35)):
        with Locations((18.3, -84)):
            Circle(ESQUISSE12_R)
        with Locations((18.3, -35)):
            Circle(ESQUISSE12_R)
        with Locations((80.3, -22)):
            Circle(ESQUISSE12_R)
        with Locations((80.3, -76)):
            Circle(ESQUISSE12_R)
    extrude(amount=-ENL_V_MAT_EXTRU_11_DEPTH, mode=Mode.SUBTRACT)


solid = part.part
